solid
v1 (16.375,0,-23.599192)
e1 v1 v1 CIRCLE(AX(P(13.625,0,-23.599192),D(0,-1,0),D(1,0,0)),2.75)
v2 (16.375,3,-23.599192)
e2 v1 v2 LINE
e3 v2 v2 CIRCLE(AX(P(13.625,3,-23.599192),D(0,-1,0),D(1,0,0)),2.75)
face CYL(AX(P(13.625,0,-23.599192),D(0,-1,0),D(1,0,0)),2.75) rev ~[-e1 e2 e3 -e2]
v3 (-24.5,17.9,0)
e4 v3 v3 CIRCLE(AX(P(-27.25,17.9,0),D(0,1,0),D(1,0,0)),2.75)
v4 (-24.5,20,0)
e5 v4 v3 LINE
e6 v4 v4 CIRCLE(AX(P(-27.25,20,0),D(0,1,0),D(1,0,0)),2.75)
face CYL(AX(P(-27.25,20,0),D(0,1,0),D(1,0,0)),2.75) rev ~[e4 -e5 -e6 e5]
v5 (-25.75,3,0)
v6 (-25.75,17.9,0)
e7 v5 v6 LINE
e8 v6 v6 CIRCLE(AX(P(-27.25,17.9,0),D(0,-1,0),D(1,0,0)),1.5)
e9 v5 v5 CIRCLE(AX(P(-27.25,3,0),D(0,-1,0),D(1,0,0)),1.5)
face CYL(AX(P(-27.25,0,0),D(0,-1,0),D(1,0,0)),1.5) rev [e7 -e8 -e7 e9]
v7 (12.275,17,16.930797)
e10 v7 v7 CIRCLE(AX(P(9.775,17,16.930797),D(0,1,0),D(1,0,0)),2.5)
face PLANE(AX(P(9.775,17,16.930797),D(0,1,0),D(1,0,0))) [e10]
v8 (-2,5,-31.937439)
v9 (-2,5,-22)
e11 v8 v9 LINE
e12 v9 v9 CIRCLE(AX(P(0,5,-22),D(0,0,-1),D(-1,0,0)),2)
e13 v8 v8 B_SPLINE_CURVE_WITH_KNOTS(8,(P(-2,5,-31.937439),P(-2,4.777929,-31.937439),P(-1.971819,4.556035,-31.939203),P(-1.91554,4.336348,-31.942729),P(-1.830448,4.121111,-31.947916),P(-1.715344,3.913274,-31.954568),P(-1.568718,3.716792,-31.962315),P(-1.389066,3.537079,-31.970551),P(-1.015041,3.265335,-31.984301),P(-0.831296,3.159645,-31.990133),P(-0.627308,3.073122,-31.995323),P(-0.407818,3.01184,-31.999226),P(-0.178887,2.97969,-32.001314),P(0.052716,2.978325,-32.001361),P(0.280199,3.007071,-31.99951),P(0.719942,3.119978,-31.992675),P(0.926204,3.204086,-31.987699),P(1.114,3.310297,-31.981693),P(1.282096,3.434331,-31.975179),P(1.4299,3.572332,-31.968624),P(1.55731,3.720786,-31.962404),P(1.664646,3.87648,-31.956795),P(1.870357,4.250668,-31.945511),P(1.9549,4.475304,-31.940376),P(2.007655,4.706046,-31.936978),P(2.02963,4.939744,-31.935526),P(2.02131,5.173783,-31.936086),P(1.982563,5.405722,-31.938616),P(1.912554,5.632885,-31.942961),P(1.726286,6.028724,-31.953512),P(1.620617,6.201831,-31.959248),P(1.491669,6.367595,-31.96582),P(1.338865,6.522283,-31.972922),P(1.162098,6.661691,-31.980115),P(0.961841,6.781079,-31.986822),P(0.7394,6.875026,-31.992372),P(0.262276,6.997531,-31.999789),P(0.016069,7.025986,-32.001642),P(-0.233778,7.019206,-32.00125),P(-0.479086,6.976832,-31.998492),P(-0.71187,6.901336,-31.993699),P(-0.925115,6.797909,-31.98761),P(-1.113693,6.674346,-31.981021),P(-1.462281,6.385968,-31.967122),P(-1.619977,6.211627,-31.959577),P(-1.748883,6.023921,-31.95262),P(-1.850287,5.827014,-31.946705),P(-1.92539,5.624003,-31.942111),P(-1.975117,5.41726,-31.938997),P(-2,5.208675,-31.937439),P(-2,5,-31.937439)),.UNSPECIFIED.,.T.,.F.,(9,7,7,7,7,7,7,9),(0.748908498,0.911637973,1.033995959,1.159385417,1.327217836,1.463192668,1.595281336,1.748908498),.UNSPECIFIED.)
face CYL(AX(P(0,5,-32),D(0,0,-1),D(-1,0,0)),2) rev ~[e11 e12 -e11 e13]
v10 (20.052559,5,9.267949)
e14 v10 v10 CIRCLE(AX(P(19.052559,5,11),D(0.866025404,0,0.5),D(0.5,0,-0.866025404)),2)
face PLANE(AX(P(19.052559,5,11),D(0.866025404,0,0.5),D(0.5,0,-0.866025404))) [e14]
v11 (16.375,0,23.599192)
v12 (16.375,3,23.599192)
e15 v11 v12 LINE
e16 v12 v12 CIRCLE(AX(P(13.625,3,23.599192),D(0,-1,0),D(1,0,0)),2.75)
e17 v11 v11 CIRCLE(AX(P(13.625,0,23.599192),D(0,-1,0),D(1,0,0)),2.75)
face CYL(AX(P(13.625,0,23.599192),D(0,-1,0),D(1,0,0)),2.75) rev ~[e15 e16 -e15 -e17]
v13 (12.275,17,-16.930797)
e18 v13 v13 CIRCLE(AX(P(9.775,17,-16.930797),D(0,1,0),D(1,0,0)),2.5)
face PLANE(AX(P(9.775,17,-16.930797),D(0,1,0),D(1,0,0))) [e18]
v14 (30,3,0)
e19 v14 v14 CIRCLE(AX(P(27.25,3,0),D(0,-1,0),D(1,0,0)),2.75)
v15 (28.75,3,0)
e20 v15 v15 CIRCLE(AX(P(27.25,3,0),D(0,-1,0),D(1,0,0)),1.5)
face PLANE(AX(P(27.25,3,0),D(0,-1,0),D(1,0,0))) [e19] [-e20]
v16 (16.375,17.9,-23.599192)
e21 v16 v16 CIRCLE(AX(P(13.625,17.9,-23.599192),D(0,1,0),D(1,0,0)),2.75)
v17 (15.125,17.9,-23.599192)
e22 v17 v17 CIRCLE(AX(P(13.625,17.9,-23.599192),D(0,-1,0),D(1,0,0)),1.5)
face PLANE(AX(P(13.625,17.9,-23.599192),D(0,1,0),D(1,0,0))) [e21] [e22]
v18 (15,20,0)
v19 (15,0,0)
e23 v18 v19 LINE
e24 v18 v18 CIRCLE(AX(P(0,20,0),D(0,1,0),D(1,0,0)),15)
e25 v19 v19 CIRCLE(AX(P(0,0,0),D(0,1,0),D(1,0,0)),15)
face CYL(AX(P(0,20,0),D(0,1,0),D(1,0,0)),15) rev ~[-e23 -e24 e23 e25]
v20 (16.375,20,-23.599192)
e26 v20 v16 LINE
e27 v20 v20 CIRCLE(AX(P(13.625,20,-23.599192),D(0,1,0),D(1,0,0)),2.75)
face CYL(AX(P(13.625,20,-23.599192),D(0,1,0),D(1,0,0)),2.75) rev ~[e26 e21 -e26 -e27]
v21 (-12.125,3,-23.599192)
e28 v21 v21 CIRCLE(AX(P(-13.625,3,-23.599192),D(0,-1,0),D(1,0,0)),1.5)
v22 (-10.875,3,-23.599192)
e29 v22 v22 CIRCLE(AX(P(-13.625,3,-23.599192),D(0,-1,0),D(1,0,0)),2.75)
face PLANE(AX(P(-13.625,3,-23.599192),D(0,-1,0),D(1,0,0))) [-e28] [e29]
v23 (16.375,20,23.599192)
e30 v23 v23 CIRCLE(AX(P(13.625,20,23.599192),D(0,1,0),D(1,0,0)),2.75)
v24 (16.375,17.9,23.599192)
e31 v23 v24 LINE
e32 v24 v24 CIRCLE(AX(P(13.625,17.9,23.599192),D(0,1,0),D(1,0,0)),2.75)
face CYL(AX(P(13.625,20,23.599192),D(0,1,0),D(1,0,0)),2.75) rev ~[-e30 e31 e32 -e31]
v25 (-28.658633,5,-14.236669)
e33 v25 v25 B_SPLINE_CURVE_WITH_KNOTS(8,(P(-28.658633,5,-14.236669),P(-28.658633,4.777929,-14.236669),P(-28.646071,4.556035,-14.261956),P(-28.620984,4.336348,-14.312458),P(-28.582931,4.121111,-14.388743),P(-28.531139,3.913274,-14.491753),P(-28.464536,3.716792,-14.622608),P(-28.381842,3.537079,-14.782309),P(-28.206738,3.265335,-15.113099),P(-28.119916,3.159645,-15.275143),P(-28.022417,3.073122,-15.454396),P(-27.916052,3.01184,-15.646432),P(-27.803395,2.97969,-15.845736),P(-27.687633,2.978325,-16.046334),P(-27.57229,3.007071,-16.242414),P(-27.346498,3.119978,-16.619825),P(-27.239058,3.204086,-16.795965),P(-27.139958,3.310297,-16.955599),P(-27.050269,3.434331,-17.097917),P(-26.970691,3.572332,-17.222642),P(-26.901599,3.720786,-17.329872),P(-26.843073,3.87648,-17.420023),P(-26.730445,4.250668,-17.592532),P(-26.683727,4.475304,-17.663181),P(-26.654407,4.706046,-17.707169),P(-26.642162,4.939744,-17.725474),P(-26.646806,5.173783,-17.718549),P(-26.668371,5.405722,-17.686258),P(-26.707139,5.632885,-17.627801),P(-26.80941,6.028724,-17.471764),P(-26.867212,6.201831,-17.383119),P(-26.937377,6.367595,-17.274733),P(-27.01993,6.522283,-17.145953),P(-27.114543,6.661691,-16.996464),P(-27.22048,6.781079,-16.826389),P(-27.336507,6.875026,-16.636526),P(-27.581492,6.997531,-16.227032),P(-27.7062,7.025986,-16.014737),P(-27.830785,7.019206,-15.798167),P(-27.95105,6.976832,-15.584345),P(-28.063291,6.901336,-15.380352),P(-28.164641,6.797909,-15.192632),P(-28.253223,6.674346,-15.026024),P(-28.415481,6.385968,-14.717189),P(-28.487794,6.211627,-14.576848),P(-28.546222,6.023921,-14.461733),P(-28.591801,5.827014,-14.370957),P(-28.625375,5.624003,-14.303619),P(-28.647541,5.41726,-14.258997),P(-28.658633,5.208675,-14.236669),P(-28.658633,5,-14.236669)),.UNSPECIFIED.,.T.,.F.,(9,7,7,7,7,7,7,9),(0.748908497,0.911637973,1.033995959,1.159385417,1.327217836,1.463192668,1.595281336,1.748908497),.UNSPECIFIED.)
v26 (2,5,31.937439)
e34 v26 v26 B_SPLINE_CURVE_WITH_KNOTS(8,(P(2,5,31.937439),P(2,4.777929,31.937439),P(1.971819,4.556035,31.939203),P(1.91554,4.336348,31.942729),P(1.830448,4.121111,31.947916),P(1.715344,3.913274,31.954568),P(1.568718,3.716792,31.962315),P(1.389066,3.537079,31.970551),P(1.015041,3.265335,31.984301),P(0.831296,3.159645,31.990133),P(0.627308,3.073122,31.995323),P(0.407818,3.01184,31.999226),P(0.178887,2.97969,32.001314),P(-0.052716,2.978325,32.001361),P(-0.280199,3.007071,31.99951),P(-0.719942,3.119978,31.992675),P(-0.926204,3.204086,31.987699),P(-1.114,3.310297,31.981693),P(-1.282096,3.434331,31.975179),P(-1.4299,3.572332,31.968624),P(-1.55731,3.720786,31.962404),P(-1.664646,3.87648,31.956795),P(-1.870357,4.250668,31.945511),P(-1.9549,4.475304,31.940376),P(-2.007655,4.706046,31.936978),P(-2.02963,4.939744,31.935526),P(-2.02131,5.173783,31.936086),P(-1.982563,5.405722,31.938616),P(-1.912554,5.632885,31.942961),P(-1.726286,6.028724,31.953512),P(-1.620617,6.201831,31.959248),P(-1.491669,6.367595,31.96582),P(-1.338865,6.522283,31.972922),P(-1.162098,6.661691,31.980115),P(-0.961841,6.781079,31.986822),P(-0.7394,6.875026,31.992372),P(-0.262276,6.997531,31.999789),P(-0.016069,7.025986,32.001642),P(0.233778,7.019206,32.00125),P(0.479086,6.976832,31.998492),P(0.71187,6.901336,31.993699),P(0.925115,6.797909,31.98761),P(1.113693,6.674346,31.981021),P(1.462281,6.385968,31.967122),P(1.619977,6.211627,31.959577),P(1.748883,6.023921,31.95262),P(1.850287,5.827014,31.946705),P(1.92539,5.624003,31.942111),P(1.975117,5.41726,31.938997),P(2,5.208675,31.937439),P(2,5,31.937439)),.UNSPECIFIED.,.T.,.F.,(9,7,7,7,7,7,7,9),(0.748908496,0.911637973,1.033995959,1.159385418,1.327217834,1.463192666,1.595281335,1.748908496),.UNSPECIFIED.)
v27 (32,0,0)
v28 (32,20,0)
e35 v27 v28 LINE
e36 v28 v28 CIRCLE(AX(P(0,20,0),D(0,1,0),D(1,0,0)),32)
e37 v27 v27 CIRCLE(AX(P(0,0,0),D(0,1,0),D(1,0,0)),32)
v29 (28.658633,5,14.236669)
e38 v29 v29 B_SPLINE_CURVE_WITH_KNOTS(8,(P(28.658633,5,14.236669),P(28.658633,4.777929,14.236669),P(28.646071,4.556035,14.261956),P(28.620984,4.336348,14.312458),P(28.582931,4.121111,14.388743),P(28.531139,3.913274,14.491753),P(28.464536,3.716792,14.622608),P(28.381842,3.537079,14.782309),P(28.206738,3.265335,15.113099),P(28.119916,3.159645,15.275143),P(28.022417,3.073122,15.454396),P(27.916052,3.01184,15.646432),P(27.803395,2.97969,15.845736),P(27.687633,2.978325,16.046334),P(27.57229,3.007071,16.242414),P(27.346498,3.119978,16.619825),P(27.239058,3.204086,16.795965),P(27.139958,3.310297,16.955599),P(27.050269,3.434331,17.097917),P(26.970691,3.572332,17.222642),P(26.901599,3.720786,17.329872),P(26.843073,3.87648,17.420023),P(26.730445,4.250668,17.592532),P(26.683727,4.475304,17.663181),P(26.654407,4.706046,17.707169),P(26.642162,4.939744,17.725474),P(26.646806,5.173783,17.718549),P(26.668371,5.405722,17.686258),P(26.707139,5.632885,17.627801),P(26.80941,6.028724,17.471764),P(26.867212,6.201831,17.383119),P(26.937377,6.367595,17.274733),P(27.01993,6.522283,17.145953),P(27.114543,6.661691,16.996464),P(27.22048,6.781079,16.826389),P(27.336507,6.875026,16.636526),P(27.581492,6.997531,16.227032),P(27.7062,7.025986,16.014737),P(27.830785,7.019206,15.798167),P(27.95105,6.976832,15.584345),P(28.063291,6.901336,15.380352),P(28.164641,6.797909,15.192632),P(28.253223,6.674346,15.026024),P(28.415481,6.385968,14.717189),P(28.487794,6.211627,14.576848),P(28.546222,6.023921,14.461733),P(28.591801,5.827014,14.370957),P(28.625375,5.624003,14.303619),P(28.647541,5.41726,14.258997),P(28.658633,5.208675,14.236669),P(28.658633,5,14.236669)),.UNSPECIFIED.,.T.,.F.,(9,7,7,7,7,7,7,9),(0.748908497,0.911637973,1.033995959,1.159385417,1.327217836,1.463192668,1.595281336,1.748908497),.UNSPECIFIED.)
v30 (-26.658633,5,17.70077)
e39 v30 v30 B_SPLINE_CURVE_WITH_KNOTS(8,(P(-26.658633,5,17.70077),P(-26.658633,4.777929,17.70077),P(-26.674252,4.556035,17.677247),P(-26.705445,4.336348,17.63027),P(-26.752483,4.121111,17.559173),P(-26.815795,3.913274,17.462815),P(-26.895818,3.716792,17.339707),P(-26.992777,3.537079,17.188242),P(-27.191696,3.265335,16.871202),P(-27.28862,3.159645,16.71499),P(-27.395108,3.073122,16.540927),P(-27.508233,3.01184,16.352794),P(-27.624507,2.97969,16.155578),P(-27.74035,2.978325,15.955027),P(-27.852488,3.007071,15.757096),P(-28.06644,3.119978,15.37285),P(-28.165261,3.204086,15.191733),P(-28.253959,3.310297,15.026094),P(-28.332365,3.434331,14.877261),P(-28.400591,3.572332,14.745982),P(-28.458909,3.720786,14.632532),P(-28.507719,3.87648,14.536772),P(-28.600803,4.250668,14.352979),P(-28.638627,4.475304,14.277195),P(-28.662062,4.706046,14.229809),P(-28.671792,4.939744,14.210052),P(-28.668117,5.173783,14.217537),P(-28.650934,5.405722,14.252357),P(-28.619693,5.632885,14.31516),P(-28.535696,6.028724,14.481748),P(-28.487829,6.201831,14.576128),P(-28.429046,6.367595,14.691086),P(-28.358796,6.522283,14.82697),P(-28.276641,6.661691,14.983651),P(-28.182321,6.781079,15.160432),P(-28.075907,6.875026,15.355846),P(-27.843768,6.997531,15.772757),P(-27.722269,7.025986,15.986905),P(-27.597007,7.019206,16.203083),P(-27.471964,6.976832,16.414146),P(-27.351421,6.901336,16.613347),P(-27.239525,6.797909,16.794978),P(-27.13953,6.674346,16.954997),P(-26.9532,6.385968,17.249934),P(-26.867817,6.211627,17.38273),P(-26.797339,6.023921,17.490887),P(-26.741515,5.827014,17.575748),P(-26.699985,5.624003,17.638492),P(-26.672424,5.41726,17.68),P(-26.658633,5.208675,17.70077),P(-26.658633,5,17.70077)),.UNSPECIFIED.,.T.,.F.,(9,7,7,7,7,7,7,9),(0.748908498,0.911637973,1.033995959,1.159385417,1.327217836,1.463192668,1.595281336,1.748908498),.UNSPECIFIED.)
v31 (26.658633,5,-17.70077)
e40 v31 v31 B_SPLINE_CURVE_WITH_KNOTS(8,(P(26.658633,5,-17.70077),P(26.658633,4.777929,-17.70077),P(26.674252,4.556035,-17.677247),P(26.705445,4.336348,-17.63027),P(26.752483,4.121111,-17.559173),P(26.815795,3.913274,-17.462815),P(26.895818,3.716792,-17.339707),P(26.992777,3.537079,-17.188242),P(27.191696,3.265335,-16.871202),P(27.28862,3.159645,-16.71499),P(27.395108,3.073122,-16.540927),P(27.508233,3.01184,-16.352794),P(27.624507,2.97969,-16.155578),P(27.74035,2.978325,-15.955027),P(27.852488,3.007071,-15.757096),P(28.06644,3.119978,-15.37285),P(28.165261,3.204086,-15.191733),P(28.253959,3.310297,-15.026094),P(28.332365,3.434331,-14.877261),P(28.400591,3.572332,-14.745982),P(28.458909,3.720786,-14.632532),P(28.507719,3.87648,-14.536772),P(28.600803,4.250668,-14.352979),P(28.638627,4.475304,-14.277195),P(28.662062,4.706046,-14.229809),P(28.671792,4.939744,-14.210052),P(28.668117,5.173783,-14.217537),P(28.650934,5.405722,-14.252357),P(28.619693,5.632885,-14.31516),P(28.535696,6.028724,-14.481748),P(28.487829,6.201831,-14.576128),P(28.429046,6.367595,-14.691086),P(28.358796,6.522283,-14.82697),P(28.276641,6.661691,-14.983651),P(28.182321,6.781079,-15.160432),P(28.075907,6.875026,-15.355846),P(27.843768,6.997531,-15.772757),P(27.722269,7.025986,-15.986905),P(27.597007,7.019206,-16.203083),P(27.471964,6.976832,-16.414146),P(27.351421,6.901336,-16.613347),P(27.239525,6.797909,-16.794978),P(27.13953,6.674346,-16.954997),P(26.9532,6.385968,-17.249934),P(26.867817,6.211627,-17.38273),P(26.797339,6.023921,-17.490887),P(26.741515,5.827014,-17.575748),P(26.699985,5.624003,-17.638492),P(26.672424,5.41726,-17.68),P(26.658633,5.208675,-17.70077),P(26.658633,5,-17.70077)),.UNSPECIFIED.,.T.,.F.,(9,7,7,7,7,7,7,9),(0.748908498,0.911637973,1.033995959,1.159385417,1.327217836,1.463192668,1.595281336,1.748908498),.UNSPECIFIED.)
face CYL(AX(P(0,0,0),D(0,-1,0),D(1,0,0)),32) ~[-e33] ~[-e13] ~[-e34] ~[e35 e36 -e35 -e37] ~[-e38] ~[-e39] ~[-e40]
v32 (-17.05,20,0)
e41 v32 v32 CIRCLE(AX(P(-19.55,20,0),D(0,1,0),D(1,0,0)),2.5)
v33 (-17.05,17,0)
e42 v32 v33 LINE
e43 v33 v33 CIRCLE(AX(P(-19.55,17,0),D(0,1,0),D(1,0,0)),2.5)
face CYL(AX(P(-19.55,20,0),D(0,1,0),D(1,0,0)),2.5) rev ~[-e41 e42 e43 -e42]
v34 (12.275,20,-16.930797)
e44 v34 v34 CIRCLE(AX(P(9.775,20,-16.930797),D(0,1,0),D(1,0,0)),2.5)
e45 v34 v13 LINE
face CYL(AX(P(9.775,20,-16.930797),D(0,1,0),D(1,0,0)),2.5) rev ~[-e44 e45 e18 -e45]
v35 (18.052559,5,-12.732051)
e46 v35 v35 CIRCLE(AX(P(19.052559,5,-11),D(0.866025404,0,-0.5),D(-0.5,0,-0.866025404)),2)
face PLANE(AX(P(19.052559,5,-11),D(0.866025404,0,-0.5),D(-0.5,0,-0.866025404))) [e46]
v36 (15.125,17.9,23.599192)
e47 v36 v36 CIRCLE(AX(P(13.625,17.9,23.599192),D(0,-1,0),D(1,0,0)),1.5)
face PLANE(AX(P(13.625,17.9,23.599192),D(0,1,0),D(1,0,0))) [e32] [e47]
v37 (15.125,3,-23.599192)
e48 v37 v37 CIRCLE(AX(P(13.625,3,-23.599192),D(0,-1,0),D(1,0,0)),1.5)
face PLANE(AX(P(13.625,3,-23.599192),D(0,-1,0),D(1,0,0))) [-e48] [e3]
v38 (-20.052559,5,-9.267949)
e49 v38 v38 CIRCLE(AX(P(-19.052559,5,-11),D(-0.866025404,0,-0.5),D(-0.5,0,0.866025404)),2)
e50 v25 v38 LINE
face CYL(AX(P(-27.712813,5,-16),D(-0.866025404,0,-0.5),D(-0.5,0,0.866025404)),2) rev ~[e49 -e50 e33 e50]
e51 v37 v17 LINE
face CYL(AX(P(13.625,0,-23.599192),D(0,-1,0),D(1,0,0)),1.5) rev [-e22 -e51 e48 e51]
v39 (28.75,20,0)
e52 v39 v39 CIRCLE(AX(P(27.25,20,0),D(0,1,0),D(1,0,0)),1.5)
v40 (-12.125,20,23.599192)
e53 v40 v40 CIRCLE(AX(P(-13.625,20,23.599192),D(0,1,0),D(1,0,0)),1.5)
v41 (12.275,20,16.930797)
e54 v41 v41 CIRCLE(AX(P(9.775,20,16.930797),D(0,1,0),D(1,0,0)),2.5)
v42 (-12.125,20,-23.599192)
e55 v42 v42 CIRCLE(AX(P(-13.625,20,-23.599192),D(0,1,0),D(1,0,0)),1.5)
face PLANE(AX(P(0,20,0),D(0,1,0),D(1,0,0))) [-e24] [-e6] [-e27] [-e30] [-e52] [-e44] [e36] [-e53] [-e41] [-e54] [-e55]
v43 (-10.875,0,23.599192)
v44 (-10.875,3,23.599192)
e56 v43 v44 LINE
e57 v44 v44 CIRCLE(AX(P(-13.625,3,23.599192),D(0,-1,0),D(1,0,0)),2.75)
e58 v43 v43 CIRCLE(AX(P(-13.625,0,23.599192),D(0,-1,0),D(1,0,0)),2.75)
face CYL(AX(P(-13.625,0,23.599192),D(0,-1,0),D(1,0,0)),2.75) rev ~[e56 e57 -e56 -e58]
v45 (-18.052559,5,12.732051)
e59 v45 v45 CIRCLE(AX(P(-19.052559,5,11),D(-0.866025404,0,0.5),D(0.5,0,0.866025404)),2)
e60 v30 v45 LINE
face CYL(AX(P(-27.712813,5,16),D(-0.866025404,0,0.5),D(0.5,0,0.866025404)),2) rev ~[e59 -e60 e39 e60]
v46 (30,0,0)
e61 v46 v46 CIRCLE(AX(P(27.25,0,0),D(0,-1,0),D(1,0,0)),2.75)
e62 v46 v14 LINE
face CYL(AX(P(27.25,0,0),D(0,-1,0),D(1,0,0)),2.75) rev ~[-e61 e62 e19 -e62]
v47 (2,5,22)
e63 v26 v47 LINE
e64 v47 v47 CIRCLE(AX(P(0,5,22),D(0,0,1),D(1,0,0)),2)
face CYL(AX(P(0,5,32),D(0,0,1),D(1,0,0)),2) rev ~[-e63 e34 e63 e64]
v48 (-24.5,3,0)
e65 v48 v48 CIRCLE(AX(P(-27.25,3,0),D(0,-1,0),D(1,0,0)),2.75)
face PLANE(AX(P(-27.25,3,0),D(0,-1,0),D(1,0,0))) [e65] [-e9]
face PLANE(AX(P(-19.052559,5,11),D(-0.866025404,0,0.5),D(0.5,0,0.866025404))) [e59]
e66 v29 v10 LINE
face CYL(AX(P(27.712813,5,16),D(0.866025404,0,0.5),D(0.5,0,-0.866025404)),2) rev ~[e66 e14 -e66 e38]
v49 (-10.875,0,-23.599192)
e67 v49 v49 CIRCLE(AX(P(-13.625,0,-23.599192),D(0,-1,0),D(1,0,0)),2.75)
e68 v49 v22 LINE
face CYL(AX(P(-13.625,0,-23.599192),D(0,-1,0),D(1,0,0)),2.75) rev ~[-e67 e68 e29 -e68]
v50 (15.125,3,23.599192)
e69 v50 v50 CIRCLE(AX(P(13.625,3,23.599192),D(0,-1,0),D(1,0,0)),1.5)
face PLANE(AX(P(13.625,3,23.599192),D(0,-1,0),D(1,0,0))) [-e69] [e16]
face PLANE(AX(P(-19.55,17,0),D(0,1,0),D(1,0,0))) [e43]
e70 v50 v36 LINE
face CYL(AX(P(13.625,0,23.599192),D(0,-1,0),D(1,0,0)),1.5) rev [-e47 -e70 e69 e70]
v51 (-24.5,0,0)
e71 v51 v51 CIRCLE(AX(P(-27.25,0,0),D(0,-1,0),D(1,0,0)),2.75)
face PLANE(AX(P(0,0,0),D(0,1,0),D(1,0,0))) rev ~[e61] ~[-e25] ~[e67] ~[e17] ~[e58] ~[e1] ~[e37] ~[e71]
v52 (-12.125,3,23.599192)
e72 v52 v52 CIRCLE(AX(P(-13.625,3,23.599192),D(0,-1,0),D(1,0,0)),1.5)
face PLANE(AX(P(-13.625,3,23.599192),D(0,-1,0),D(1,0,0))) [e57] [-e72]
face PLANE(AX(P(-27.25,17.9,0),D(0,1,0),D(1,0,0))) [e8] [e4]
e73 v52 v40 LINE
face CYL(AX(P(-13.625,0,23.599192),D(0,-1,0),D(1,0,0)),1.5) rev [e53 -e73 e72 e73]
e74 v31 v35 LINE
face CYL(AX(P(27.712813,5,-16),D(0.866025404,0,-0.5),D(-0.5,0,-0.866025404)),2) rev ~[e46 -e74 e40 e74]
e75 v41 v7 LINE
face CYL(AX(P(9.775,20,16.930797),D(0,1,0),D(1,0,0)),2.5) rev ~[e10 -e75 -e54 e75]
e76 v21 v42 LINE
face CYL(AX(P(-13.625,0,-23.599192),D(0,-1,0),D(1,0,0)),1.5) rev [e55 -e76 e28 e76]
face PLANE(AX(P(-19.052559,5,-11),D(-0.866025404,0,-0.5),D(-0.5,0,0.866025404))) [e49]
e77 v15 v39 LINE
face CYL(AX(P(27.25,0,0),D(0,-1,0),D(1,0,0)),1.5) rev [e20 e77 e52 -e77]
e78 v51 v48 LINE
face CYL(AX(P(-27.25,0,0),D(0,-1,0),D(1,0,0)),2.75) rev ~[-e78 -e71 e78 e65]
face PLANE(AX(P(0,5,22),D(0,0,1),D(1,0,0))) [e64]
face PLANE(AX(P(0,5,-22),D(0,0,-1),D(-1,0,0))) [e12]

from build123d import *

# Parameters (mm, degrees)
SKETCH_1_R               = 32
SKETCH_1_R_2             = 2.5
SKETCH_1_R_3             = 1.5
EXTRUDE_1_DEPTH          = 20
SKETCH_2_R               = 2.75
CUT_EXTRUDE_1_DEPTH      = 2.1
SKETCH_3_R               = 2.5
CUT_EXTRUDE_2_DEPTH      = 3
SKETCH_4_R               = 2
CUT_EXTRUDE_3_DEPTH      = 10
PATTERN_CIRCULAR_1_COUNT = 6
SKETCH_5_R               = 15
CUT_EXTRUDE_4_DEPTH      = 21.0000001
SKETCH_6_R               = 2.75
SKETCH_6_R_2             = 1.5
CUT_EXTRUDE_5_DEPTH      = 3


with BuildPart() as part:
    # 草图1 → 凸台-拉伸1 (new body)
    with BuildSketch(Plane(origin=(0, 0, 0), x_dir=(1, 0, 0), z_dir=(0, 1, 0))):
        Circle(SKETCH_1_R)
        with Locations((-23.599192253, -13.625)):
            Circle(SKETCH_1_R_2, mode=Mode.SUBTRACT)
        with Locations((-13.625, -23.599192253)):
            Circle(SKETCH_1_R_3, mode=Mode.SUBTRACT)
        with Locations((0, -27.25)):
            Circle(SKETCH_1_R_2, mode=Mode.SUBTRACT)
        with Locations((13.625, -23.599192253)):
            Circle(SKETCH_1_R_3, mode=Mode.SUBTRACT)
        with Locations((23.599192253, -13.625)):
            Circle(SKETCH_1_R_2, mode=Mode.SUBTRACT)
        with Locations((27.25, 0)):
            Circle(SKETCH_1_R_3, mode=Mode.SUBTRACT)
        with Locations((23.599192253, 13.625)):
            Circle(SKETCH_1_R_2, mode=Mode.SUBTRACT)
        with Locations((13.625, 23.599192253)):
            Circle(SKETCH_1_R_3, mode=Mode.SUBTRACT)
        with Locations((0, 27.25)):
            Circle(SKETCH_1_R_2, mode=Mode.SUBTRACT)
        with Locations((-13.625, 23.599192253)):
            Circle(SKETCH_1_R_3, mode=Mode.SUBTRACT)
        with Locations((-23.599192253, 13.625)):
            Circle(SKETCH_1_R_2, mode=Mode.SUBTRACT)
        with Locations((-27.25, 0)):
            Circle(SKETCH_1_R_3, mode=Mode.SUBTRACT)
        with Locations((-23.599192253, -13.625)):
            Circle(SKETCH_1_R_2)
        with Locations((-23.599192253, 13.625)):
            Circle(SKETCH_1_R_2)
        with Locations((23.599192253, 13.625)):
            Circle(SKETCH_1_R_2)
        with Locations((0, 27.25)):
            Circle(SKETCH_1_R_2)
        with Locations((0, -27.25)):
            Circle(SKETCH_1_R_2)
        with Locations((23.599192253, -13.625)):
            Circle(SKETCH_1_R_2)
    extrude(amount=EXTRUDE_1_DEPTH)

    # 草图2 → 切除-拉伸1 (cut)
    with BuildSketch(Plane(origin=(0, 20, 0), x_dir=(1, 0, 0), z_dir=(0, 1, 0))):
        with Locations((-27.25, 0)):
            Circle(SKETCH_2_R)
        with Locations((13.625, 23.599192253)):
            Circle(SKETCH_2_R)
        with Locations((13.625, -23.599192253)):
            Circle(SKETCH_2_R)
    extrude(amount=-CUT_EXTRUDE_1_DEPTH, mode=Mode.SUBTRACT)

    # 草图3 → 切除-拉伸2 (cut)
    with BuildSketch(Plane(origin=(0, 20, 0), x_dir=(1, 0, 0), z_dir=(0, 1, 0))):
        with Locations((-19.55, 0)):
            Circle(SKETCH_3_R)
        with Locations((9.775, 16.930796644)):
            Circle(SKETCH_3_R)
        with Locations((9.775, -16.930796644)):
            Circle(SKETCH_3_R)
    extrude(amount=-CUT_EXTRUDE_2_DEPTH, mode=Mode.SUBTRACT)

    # 草图4 → 切除-拉伸3 (cut)
    with BuildSketch(Plane.XY.offset(32)):
        with Locations((0, 5)):
            Circle(SKETCH_4_R)
    cut_extrude_3 = extrude(amount=-CUT_EXTRUDE_3_DEPTH, mode=Mode.SUBTRACT)

    # 阵列(圆周)1: 切除-拉伸3 ×6 about axis
    pattern_circular_1_axis = Axis((0, 0, 0), (0, 1, 0))
    for i in range(1, PATTERN_CIRCULAR_1_COUNT):
        add(cut_extrude_3.rotate(pattern_circular_1_axis, i * 360 / PATTERN_CIRCULAR_1_COUNT), mode=Mode.SUBTRACT)

    # 草图5 → 切除-拉伸4 (cut, through all)
    with BuildSketch(Plane(origin=(0, 20, 0), x_dir=(1, 0, 0), z_dir=(0, 1, 0))):
        Circle(SKETCH_5_R)
    extrude(amount=-CUT_EXTRUDE_4_DEPTH, mode=Mode.SUBTRACT)

    # 草图6 → 切除-拉伸5 (cut)
    with BuildSketch(Plane.XZ):
        with Locations((13.625, -23.599192253)):
            Circle(SKETCH_6_R)
        with Locations((13.625, -23.599192253)):
            Circle(SKETCH_6_R_2, mode=Mode.SUBTRACT)
        with Locations((27.25, 0)):
            Circle(SKETCH_6_R)
        with Locations((27.25, 0)):
            Circle(SKETCH_6_R_2, mode=Mode.SUBTRACT)
        with Locations((13.625, 23.599192253)):
            Circle(SKETCH_6_R)
        with Locations((13.625, 23.599192253)):
            Circle(SKETCH_6_R_2, mode=Mode.SUBTRACT)
        with Locations((-13.625, 23.599192253)):
            Circle(SKETCH_6_R)
        with Locations((-13.625, 23.599192253)):
            Circle(SKETCH_6_R_2, mode=Mode.SUBTRACT)
        with Locations((-27.25, 0)):
            Circle(SKETCH_6_R)
        with Locations((-27.25, 0)):
            Circle(SKETCH_6_R_2, mode=Mode.SUBTRACT)
        with Locations((-13.625, -23.599192253)):
            Circle(SKETCH_6_R)
        with Locations((-13.625, -23.599192253)):
            Circle(SKETCH_6_R_2, mode=Mode.SUBTRACT)
    extrude(amount=-CUT_EXTRUDE_5_DEPTH, mode=Mode.SUBTRACT)


solid = part.part
